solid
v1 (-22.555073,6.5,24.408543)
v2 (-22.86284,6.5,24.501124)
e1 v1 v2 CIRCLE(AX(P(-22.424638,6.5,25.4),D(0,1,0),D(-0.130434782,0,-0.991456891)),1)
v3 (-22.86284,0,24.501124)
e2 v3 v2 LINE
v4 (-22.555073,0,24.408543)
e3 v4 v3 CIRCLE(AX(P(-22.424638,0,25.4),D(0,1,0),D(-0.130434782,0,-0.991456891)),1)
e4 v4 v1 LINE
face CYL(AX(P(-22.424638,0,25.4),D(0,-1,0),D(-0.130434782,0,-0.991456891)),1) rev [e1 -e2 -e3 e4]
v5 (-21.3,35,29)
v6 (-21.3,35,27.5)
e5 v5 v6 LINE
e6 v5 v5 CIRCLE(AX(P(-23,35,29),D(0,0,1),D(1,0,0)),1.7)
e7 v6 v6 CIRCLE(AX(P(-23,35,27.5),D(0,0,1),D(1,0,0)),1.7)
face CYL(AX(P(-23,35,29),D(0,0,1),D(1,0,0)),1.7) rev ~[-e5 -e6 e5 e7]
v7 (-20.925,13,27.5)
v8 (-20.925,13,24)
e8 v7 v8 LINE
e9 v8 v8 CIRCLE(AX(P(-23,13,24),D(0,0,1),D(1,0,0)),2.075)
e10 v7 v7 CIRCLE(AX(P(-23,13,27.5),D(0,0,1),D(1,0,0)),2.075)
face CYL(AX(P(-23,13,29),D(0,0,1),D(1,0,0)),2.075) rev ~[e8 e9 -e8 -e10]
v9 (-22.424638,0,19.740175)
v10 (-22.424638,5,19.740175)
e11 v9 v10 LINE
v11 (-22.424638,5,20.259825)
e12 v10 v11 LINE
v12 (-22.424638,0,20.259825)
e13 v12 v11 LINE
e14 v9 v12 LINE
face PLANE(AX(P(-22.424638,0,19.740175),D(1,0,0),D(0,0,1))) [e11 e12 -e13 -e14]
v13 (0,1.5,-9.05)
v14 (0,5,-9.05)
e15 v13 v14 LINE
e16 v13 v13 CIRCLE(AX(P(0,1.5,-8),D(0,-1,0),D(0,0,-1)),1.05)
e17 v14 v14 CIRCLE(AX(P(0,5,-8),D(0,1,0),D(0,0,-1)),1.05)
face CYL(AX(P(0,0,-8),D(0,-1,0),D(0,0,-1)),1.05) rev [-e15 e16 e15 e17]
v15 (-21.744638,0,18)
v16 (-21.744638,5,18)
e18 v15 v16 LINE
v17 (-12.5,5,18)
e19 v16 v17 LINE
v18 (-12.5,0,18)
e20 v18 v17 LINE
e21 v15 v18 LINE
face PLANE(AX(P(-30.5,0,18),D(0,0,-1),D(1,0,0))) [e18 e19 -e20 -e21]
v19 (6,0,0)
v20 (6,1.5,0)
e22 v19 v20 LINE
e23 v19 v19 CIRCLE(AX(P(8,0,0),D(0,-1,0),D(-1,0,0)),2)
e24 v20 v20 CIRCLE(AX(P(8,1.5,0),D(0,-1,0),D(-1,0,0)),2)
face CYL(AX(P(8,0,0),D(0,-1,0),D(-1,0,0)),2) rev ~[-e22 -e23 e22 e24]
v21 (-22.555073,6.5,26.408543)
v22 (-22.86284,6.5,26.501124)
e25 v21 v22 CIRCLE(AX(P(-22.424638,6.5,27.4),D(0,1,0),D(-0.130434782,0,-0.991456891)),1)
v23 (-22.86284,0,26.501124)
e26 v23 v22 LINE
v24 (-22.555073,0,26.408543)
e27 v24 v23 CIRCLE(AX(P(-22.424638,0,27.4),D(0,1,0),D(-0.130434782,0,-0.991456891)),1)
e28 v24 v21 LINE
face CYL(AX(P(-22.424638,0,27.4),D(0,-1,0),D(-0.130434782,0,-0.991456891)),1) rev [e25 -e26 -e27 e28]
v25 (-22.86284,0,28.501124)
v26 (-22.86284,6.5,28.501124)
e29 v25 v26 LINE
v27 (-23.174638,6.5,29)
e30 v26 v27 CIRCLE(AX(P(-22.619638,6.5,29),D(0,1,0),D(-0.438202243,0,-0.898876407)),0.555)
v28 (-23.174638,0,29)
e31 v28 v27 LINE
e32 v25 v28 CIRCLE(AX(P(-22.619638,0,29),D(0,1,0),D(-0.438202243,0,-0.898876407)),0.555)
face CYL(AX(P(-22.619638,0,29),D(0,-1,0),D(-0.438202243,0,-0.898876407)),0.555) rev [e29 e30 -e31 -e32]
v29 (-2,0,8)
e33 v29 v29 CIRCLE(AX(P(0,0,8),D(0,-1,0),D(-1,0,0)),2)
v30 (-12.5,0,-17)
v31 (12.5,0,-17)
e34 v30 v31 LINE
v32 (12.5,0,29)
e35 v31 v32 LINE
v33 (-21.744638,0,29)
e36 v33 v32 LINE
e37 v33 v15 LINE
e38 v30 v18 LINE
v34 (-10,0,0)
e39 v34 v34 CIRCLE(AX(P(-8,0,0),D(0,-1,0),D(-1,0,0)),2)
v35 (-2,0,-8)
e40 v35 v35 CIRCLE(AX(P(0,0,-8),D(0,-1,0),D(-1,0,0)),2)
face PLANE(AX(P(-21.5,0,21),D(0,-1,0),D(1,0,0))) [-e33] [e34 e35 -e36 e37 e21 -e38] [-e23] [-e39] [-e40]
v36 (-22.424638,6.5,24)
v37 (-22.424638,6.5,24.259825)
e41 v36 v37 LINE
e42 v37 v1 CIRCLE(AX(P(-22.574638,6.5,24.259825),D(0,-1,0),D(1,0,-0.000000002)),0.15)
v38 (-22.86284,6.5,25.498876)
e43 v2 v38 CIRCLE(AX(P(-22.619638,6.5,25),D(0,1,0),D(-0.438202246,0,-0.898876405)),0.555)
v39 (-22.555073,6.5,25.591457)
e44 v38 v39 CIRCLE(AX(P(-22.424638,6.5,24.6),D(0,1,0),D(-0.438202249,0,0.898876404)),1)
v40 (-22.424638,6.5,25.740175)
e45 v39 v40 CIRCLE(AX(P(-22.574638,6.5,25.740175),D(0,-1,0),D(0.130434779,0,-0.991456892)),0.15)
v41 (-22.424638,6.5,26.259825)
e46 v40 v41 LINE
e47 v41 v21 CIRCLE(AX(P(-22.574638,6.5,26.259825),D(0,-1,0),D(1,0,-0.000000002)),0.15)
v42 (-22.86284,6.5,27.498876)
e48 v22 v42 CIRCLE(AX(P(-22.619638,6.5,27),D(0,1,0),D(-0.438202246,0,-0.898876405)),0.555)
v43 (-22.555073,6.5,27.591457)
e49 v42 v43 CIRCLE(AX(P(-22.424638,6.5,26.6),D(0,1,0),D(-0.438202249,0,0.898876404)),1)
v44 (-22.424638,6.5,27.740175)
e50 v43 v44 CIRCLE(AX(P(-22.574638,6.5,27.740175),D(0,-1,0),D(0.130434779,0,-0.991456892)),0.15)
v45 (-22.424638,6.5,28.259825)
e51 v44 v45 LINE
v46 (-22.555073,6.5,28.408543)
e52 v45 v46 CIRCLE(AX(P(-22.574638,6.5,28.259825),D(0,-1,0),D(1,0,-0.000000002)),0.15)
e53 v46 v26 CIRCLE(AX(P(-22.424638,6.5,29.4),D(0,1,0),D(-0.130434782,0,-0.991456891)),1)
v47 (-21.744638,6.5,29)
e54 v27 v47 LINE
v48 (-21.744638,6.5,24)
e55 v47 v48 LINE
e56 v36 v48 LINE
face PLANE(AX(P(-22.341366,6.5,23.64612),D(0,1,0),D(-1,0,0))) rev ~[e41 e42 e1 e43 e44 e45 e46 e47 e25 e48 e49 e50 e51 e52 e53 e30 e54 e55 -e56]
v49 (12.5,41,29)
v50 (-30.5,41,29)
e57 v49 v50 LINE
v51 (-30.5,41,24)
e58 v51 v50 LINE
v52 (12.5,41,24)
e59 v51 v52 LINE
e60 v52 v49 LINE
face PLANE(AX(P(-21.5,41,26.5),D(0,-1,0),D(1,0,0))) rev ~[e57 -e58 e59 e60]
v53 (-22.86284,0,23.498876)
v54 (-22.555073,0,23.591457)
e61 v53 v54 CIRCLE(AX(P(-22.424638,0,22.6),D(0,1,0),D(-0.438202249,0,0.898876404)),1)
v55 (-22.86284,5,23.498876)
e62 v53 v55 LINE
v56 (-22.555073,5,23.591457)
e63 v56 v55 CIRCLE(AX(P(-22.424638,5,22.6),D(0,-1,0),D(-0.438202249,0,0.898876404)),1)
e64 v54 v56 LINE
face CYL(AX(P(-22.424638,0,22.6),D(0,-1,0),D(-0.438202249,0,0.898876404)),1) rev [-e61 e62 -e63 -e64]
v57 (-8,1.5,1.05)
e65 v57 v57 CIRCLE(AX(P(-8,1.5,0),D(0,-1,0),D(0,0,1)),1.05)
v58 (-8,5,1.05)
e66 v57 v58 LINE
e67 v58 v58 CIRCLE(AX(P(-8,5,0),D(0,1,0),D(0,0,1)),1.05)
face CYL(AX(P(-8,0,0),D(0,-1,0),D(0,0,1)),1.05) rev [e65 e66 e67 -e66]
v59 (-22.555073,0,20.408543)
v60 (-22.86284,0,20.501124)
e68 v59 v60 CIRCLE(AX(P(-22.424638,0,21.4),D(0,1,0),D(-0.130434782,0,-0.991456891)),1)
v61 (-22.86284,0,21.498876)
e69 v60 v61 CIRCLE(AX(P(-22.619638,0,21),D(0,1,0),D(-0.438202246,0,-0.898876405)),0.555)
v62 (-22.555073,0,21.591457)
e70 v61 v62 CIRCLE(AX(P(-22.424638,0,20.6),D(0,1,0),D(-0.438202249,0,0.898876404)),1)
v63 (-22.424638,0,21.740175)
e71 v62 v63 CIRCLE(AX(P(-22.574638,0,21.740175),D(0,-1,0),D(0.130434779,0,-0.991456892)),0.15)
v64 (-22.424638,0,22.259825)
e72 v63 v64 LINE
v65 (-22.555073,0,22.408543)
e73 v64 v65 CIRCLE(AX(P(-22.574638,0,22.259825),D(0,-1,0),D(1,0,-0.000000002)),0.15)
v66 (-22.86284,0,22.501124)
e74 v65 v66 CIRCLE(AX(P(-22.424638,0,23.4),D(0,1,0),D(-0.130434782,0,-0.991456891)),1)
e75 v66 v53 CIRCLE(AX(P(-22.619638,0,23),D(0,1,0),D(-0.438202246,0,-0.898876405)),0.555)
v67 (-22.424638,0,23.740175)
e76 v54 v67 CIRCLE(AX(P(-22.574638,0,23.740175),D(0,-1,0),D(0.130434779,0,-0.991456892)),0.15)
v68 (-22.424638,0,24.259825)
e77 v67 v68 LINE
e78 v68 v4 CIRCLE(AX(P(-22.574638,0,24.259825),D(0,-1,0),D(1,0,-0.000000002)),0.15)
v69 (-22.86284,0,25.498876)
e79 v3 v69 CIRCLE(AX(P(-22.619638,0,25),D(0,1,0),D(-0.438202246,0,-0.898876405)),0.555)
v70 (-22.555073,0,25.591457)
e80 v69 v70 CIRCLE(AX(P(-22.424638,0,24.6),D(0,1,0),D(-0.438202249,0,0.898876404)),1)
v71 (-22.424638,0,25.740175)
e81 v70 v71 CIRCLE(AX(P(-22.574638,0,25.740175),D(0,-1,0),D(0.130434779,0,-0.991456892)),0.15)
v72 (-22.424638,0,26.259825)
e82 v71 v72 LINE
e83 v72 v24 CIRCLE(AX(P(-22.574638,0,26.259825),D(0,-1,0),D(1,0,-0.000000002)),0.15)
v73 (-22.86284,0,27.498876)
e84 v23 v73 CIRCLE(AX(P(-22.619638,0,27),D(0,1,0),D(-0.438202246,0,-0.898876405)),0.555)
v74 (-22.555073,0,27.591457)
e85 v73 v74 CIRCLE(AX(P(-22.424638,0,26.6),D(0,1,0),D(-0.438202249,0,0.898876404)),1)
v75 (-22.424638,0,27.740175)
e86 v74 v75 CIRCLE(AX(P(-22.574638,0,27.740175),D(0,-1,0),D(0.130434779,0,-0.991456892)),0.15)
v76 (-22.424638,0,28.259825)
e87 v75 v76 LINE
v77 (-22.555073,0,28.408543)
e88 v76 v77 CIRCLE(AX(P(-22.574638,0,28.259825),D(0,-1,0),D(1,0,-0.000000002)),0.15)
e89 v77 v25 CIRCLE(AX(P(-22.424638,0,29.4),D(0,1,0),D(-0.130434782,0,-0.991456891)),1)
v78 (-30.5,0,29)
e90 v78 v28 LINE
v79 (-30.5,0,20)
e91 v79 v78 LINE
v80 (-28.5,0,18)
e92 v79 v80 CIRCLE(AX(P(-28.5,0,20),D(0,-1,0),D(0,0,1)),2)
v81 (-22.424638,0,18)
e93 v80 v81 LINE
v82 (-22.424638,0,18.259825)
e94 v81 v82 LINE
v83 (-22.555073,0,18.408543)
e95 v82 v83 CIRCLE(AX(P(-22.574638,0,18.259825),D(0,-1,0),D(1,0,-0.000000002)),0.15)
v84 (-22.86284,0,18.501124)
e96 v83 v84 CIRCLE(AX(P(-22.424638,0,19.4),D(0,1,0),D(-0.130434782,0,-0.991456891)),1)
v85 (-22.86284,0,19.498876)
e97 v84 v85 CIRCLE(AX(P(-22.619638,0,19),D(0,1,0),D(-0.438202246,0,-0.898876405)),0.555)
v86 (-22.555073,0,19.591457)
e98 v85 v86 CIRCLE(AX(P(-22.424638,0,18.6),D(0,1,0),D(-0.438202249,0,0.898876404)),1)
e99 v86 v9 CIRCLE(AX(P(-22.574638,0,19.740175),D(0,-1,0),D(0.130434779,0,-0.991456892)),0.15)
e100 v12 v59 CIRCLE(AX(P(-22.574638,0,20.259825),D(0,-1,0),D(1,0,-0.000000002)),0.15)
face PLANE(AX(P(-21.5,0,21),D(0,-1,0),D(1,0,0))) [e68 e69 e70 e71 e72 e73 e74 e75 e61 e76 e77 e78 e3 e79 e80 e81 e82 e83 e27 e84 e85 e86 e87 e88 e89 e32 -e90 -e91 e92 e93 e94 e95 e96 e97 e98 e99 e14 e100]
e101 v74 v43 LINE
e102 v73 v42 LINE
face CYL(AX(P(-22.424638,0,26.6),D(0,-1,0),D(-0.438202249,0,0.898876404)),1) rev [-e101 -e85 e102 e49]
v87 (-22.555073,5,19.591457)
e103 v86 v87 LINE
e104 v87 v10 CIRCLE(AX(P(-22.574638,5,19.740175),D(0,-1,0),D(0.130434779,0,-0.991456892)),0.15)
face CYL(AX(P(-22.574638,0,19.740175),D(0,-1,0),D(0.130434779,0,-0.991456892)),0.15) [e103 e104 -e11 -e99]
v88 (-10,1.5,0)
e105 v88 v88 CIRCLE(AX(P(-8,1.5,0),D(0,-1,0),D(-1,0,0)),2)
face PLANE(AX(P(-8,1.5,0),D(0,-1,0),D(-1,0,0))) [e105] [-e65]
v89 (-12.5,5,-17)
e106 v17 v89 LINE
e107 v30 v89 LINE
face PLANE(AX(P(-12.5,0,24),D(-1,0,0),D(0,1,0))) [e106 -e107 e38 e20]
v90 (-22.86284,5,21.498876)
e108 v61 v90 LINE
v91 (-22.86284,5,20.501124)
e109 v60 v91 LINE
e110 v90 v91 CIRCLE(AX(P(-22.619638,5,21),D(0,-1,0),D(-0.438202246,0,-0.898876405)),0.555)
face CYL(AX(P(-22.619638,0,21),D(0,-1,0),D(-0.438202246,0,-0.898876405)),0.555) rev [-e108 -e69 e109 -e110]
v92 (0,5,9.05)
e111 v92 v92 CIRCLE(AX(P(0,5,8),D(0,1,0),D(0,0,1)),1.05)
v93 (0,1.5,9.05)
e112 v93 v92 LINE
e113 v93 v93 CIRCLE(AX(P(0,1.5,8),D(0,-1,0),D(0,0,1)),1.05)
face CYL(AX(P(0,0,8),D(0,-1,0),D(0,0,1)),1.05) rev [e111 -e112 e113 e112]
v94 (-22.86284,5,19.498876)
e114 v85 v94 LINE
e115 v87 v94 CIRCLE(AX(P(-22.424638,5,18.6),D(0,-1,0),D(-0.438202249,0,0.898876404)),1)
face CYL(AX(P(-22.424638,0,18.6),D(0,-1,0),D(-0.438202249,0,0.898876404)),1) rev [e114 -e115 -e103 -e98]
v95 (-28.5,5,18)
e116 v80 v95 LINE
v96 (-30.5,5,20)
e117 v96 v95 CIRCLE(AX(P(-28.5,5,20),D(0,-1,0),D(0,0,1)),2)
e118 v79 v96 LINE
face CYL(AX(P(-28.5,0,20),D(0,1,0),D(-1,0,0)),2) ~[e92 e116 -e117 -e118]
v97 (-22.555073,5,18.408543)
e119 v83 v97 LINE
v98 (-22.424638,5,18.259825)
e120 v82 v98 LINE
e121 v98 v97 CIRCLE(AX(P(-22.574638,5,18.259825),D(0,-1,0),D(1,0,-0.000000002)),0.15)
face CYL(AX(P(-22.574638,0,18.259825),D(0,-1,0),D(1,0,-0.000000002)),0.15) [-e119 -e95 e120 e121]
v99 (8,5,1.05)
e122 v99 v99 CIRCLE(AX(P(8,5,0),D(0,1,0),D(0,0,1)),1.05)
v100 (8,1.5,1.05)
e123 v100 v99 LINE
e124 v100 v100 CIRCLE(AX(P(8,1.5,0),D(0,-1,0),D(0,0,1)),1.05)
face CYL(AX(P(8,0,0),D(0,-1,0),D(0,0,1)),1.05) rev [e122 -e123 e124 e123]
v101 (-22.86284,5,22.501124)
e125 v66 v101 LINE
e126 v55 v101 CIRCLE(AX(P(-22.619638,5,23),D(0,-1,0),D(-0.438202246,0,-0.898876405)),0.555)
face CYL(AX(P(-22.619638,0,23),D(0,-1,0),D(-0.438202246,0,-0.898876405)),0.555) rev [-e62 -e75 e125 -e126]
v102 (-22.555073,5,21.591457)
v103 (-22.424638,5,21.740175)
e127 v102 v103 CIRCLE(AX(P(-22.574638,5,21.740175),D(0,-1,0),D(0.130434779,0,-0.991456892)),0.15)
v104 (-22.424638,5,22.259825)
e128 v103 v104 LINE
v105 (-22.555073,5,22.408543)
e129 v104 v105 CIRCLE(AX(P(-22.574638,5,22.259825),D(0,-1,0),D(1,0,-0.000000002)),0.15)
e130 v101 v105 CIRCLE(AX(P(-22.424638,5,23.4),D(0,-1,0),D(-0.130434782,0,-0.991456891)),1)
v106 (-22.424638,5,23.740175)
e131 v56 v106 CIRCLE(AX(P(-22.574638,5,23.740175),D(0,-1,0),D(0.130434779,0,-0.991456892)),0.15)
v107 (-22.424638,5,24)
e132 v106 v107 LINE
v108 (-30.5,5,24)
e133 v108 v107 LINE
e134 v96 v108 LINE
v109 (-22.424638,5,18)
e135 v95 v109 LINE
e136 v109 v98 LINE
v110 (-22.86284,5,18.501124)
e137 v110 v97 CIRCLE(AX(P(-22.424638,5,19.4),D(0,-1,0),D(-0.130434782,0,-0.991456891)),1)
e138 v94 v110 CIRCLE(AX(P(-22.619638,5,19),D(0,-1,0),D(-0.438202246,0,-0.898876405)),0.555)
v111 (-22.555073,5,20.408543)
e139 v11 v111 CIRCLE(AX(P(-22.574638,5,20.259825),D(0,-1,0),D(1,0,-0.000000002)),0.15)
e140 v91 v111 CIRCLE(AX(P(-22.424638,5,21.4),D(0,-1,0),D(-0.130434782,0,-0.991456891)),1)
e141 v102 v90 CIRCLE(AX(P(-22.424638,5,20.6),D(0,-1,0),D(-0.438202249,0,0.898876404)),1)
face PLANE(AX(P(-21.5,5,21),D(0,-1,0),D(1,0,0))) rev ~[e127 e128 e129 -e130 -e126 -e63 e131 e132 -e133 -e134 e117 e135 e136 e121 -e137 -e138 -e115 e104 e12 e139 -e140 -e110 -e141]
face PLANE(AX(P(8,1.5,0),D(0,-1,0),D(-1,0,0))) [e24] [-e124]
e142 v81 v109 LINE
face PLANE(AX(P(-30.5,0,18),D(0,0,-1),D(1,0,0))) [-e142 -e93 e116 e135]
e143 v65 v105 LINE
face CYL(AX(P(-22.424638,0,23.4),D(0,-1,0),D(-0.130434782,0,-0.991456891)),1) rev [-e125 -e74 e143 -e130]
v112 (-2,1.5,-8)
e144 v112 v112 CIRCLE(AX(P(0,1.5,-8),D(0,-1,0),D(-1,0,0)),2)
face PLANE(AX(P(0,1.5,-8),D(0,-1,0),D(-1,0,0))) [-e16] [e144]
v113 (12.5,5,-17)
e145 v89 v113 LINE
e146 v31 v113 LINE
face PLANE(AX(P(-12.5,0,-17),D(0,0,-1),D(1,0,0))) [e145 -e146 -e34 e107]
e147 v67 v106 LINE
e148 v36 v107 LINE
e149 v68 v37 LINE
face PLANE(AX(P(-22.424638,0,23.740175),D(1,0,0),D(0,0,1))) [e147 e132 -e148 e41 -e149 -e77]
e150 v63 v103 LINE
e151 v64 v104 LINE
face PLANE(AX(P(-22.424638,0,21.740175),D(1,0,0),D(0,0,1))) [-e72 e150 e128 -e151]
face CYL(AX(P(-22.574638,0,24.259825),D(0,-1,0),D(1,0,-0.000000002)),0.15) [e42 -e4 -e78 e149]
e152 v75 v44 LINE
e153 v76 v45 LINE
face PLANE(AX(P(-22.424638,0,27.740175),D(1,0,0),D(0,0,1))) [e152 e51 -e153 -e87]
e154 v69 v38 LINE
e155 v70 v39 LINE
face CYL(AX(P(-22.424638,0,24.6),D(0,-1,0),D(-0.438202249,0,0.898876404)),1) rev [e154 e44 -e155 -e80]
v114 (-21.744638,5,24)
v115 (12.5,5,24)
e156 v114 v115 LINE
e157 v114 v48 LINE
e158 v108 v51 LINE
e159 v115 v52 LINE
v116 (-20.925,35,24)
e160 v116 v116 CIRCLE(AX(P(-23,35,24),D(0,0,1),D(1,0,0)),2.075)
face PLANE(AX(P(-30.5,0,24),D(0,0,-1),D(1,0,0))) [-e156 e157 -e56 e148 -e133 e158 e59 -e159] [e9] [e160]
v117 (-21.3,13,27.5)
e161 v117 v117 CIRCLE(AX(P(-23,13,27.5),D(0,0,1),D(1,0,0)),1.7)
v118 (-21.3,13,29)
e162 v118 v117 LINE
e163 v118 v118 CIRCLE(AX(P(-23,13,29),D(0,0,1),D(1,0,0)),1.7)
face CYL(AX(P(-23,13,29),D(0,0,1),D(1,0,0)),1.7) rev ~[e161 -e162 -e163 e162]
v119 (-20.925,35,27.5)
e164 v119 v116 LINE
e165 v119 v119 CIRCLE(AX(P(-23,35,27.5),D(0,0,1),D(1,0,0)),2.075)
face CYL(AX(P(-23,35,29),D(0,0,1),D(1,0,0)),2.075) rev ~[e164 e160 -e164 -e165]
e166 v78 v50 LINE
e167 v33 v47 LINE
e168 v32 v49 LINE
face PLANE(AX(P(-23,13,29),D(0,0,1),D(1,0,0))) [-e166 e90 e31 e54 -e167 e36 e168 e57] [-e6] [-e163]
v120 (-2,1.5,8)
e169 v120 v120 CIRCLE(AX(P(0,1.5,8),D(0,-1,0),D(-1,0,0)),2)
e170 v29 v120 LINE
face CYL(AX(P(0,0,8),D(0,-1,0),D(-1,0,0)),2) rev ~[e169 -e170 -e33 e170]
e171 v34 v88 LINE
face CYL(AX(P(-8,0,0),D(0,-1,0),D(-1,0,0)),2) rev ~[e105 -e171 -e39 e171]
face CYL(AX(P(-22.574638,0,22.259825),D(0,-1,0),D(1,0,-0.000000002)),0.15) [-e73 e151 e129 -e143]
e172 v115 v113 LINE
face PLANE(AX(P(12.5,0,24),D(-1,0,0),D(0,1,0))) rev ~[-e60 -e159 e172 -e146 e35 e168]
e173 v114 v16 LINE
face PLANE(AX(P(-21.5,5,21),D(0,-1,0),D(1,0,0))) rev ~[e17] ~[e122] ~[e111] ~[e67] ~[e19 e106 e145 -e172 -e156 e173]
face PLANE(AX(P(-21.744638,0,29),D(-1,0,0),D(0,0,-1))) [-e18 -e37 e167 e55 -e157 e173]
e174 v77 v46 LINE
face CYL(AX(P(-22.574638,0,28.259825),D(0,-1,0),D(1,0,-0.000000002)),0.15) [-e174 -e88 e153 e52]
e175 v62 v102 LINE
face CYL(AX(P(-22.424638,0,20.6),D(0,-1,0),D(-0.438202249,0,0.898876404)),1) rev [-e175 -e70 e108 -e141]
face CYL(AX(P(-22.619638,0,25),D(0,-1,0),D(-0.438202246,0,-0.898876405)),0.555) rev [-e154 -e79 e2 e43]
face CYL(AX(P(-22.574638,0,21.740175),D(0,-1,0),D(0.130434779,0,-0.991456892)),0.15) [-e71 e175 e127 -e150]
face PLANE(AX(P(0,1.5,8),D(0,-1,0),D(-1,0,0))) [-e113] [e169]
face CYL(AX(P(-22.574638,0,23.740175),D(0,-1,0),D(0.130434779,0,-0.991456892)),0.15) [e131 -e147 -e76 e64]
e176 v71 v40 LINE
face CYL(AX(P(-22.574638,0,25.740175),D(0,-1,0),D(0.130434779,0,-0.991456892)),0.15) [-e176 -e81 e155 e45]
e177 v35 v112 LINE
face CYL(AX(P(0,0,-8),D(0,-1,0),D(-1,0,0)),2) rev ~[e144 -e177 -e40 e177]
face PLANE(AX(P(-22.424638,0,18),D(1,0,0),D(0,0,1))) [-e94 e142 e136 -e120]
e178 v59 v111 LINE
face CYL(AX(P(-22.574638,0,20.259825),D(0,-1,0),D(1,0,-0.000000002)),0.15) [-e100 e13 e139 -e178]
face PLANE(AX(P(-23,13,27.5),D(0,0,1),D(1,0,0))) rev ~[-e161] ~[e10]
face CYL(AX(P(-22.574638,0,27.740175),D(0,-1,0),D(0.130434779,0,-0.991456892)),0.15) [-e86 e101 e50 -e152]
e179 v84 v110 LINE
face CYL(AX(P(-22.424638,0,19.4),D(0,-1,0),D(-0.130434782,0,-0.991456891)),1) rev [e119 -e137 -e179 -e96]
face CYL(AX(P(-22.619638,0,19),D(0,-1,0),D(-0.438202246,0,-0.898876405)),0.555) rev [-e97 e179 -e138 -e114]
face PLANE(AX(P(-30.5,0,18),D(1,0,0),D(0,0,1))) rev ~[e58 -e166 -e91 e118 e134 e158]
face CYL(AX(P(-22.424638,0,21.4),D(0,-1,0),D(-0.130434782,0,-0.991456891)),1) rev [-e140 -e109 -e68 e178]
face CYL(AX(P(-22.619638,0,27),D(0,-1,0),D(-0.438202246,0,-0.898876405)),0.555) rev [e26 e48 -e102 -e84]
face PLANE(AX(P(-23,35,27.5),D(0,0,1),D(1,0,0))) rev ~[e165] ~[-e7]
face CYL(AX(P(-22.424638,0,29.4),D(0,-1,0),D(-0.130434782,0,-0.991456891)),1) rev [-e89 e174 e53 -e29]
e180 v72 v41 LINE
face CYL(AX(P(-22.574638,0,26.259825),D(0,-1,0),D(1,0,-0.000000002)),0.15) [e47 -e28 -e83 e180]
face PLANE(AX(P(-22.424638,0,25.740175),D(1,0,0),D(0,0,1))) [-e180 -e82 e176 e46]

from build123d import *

# Parameters (mm, degrees)
SKETCH2_W           = 25
SKETCH2_H           = 41
BOSS_EXTRUDE1_DEPTH = 5
SKETCH4_W           = 25
SKETCH4_H           = 41
BOSS_EXTRUDE2_DEPTH = 5
SKETCH5_W           = 18
SKETCH5_H           = 5
BOSS_EXTRUDE3_DEPTH = 41
SKETCH6_R           = 2.075
CUT_EXTRUDE1_DEPTH  = 5
SKETCH11_R          = 2.075
SKETCH11_R_2        = 1.7
BOSS_EXTRUDE5_DEPTH = 1.5
SKETCH12_W          = 18
SKETCH12_H          = 6
BOSS_EXTRUDE6_DEPTH = 5
FILLET5_R           = 2
SKETCH13_R          = 2
CUT_EXTRUDE2_DEPTH  = 1.5
CUT_EXTRUDE7_DEPTH  = 6.5


with BuildPart() as part:
    # Sketch2 → Boss-Extrude1 (new body)
    with BuildSketch(Plane(origin=(0, 0, 0), x_dir=(1, 0, 0), z_dir=(0, 1, 0))):
        with Locations((0, -3.5)):
            Rectangle(SKETCH2_W, SKETCH2_H)
        with BuildLine():
            ThreePointArc((0, -6.95), (-1.05, -8), (0, -9.05))
            ThreePointArc((0, -9.05), (1.05, -8), (0, -6.95))
        make_face(mode=Mode.SUBTRACT)
        with BuildLine():
            ThreePointArc((-8, 1.05), (-9.05, 0), (-8, -1.05))
            ThreePointArc((-8, -1.05), (-6.95, 0), (-8, 1.05))
        make_face(mode=Mode.SUBTRACT)
        with BuildLine():
            ThreePointArc((8, 1.05), (6.95, 0), (8, -1.05))
            ThreePointArc((8, -1.05), (9.05, 0), (8, 1.05))
        make_face(mode=Mode.SUBTRACT)
        with BuildLine():
            ThreePointArc((0, 6.95), (1.05, 8), (0, 9.05))
            ThreePointArc((0, 9.05), (-1.05, 8), (0, 6.95))
        make_face(mode=Mode.SUBTRACT)
    extrude(amount=BOSS_EXTRUDE1_DEPTH)

    # Sketch4 → Boss-Extrude2 (add)
    with BuildSketch(Plane.XY.offset(24)):
        with Locations((0, 20.5)):
            Rectangle(SKETCH4_W, SKETCH4_H)
    extrude(amount=BOSS_EXTRUDE2_DEPTH)

    # Sketch5 → Boss-Extrude3 (add)
    with BuildSketch(Plane.XZ):
        with Locations((-21.5, 26.5)):
            Rectangle(SKETCH5_W, SKETCH5_H)
    extrude(amount=-BOSS_EXTRUDE3_DEPTH)

    # Sketch6 → Cut-Extrude1 (cut)
    with BuildSketch(Plane.XY.offset(29)):
        with Locations((-23, 13)):
            Circle(SKETCH6_R)
        with Locations((-23, 35)):
            Circle(SKETCH6_R)
    extrude(amount=-CUT_EXTRUDE1_DEPTH, mode=Mode.SUBTRACT)

    # Sketch11 → Boss-Extrude5 (add)
    with BuildSketch(Plane.XY.offset(29)):
        with Locations((-23, 13)):
            Circle(SKETCH11_R)
        with Locations((-23, 13)):
            Circle(SKETCH11_R_2, mode=Mode.SUBTRACT)
        with Locations((-23, 35)):
            Circle(SKETCH11_R)
        with Locations((-23, 35)):
            Circle(SKETCH11_R_2, mode=Mode.SUBTRACT)
    extrude(amount=-BOSS_EXTRUDE5_DEPTH)

    # Sketch12 → Boss-Extrude6 (add)
    with BuildSketch(Plane.XZ):
        with Locations((-21.5, 21)):
            Rectangle(SKETCH12_W, SKETCH12_H)
    extrude(amount=-BOSS_EXTRUDE6_DEPTH)

    # Fillet5
    fillet5_edges = [part.edges().sort_by_distance(p)[0] for p in [
        (-30.5, 2.5, 18),
    ]]
    fillet(fillet5_edges, radius=FILLET5_R)

    # Sketch13 → Cut-Extrude2 (cut)
    with BuildSketch(Plane(origin=(0, 0, 0), x_dir=(-1, 0, 0), z_dir=(0, -1, 0))):
        with Locations((0, -8)):
            Circle(SKETCH13_R)
        with Locations((8, 0)):
            Circle(SKETCH13_R)
        with Locations((0, 8)):
            Circle(SKETCH13_R)
        with Locations((-8, 0)):
            Circle(SKETCH13_R)
    extrude(amount=-CUT_EXTRUDE2_DEPTH, mode=Mode.SUBTRACT)

    # Sketch15 → Cut-Extrude7 (cut)
    with BuildSketch(Plane.XZ):
        with BuildLine():
            Line((-21.744637892, 29), (-21.744637892, 18))
            Line((-21.744637892, 18), (-21.794637892, 18))
            Line((-21.794637892, 18), (-22.424637892, 18))
            Line((-22.424637892, 18), (-22.424637892, 18.259824575))
            ThreePointArc((-22.424637892, 18.259824575), (-22.46186648, 18.358731646), (-22.555072675, 18.408543109))
            ThreePointArc((-22.555072675, 18.408543109), (-22.712700046, 18.442388286), (-22.862840139, 18.501123596))
            ThreePointArc((-22.862840139, 18.501123596), (-23.174637892, 19), (-22.862840139, 19.498876404))
            ThreePointArc((-22.862840139, 19.498876404), (-22.712700046, 19.557611714), (-22.555072675, 19.591456891))
            ThreePointArc((-22.555072675, 19.591456891), (-22.46186648, 19.641268354), (-22.424637892, 19.740175425))
            Line((-22.424637892, 19.740175425), (-22.424637892, 20.259824575))
            ThreePointArc((-22.424637892, 20.259824575), (-22.46186648, 20.358731646), (-22.555072675, 20.408543109))
            ThreePointArc((-22.555072675, 20.408543109), (-22.712700046, 20.442388286), (-22.862840139, 20.501123596))
            ThreePointArc((-22.862840139, 20.501123596), (-23.174637892, 21), (-22.862840139, 21.498876404))
            ThreePointArc((-22.862840139, 21.498876404), (-22.712700046, 21.557611714), (-22.555072675, 21.591456891))
            ThreePointArc((-22.555072675, 21.591456891), (-22.46186648, 21.641268354), (-22.424637892, 21.740175425))
            Line((-22.424637892, 21.740175425), (-22.424637892, 22.259824575))
            ThreePointArc((-22.424637892, 22.259824575), (-22.46186648, 22.358731646), (-22.555072675, 22.408543109))
            ThreePointArc((-22.555072675, 22.408543109), (-22.712700046, 22.442388286), (-22.862840139, 22.501123596))
            ThreePointArc((-22.862840139, 22.501123596), (-23.174637892, 23), (-22.862840139, 23.498876404))
            ThreePointArc((-22.862840139, 23.498876404), (-22.712700046, 23.557611714), (-22.555072675, 23.591456891))
            ThreePointArc((-22.555072675, 23.591456891), (-22.46186648, 23.641268354), (-22.424637892, 23.740175425))
            Line((-22.424637892, 23.740175425), (-22.424637892, 24.259824575))
            ThreePointArc((-22.424637892, 24.259824575), (-22.46186648, 24.358731646), (-22.555072675, 24.408543109))
            ThreePointArc((-22.555072675, 24.408543109), (-22.712700046, 24.442388286), (-22.862840139, 24.501123596))
            ThreePointArc((-22.862840139, 24.501123596), (-23.174637892, 25), (-22.862840139, 25.498876404))
            ThreePointArc((-22.862840139, 25.498876404), (-22.712700046, 25.557611714), (-22.555072675, 25.591456891))
            ThreePointArc((-22.555072675, 25.591456891), (-22.46186648, 25.641268354), (-22.424637892, 25.740175425))
            Line((-22.424637892, 25.740175425), (-22.424637892, 26.259824575))
            ThreePointArc((-22.424637892, 26.259824575), (-22.46186648, 26.358731646), (-22.555072675, 26.408543109))
            ThreePointArc((-22.555072675, 26.408543109), (-22.712700046, 26.442388286), (-22.862840139, 26.501123596))
            ThreePointArc((-22.862840139, 26.501123596), (-23.174637892, 27), (-22.862840139, 27.498876404))
            ThreePointArc((-22.862840139, 27.498876404), (-22.712700046, 27.557611714), (-22.555072675, 27.591456891))
            ThreePointArc((-22.555072675, 27.591456891), (-22.46186648, 27.641268354), (-22.424637892, 27.740175425))
            Line((-22.424637892, 27.740175425), (-22.424637892, 28.259824575))
            ThreePointArc((-22.424637892, 28.259824575), (-22.46186648, 28.358731646), (-22.555072675, 28.408543109))
            ThreePointArc((-22.555072675, 28.408543109), (-22.712700046, 28.442388286), (-22.862840139, 28.501123596))
            ThreePointArc((-22.862840139, 28.501123596), (-23.090276951, 28.705850588), (-23.174637892, 29))
            Line((-23.174637892, 29), (-21.794637892, 29))
            Line((-21.794637892, 29), (-21.744637892, 29))
        make_face()
    extrude(amount=-CUT_EXTRUDE7_DEPTH, mode=Mode.SUBTRACT)


solid = part.part
